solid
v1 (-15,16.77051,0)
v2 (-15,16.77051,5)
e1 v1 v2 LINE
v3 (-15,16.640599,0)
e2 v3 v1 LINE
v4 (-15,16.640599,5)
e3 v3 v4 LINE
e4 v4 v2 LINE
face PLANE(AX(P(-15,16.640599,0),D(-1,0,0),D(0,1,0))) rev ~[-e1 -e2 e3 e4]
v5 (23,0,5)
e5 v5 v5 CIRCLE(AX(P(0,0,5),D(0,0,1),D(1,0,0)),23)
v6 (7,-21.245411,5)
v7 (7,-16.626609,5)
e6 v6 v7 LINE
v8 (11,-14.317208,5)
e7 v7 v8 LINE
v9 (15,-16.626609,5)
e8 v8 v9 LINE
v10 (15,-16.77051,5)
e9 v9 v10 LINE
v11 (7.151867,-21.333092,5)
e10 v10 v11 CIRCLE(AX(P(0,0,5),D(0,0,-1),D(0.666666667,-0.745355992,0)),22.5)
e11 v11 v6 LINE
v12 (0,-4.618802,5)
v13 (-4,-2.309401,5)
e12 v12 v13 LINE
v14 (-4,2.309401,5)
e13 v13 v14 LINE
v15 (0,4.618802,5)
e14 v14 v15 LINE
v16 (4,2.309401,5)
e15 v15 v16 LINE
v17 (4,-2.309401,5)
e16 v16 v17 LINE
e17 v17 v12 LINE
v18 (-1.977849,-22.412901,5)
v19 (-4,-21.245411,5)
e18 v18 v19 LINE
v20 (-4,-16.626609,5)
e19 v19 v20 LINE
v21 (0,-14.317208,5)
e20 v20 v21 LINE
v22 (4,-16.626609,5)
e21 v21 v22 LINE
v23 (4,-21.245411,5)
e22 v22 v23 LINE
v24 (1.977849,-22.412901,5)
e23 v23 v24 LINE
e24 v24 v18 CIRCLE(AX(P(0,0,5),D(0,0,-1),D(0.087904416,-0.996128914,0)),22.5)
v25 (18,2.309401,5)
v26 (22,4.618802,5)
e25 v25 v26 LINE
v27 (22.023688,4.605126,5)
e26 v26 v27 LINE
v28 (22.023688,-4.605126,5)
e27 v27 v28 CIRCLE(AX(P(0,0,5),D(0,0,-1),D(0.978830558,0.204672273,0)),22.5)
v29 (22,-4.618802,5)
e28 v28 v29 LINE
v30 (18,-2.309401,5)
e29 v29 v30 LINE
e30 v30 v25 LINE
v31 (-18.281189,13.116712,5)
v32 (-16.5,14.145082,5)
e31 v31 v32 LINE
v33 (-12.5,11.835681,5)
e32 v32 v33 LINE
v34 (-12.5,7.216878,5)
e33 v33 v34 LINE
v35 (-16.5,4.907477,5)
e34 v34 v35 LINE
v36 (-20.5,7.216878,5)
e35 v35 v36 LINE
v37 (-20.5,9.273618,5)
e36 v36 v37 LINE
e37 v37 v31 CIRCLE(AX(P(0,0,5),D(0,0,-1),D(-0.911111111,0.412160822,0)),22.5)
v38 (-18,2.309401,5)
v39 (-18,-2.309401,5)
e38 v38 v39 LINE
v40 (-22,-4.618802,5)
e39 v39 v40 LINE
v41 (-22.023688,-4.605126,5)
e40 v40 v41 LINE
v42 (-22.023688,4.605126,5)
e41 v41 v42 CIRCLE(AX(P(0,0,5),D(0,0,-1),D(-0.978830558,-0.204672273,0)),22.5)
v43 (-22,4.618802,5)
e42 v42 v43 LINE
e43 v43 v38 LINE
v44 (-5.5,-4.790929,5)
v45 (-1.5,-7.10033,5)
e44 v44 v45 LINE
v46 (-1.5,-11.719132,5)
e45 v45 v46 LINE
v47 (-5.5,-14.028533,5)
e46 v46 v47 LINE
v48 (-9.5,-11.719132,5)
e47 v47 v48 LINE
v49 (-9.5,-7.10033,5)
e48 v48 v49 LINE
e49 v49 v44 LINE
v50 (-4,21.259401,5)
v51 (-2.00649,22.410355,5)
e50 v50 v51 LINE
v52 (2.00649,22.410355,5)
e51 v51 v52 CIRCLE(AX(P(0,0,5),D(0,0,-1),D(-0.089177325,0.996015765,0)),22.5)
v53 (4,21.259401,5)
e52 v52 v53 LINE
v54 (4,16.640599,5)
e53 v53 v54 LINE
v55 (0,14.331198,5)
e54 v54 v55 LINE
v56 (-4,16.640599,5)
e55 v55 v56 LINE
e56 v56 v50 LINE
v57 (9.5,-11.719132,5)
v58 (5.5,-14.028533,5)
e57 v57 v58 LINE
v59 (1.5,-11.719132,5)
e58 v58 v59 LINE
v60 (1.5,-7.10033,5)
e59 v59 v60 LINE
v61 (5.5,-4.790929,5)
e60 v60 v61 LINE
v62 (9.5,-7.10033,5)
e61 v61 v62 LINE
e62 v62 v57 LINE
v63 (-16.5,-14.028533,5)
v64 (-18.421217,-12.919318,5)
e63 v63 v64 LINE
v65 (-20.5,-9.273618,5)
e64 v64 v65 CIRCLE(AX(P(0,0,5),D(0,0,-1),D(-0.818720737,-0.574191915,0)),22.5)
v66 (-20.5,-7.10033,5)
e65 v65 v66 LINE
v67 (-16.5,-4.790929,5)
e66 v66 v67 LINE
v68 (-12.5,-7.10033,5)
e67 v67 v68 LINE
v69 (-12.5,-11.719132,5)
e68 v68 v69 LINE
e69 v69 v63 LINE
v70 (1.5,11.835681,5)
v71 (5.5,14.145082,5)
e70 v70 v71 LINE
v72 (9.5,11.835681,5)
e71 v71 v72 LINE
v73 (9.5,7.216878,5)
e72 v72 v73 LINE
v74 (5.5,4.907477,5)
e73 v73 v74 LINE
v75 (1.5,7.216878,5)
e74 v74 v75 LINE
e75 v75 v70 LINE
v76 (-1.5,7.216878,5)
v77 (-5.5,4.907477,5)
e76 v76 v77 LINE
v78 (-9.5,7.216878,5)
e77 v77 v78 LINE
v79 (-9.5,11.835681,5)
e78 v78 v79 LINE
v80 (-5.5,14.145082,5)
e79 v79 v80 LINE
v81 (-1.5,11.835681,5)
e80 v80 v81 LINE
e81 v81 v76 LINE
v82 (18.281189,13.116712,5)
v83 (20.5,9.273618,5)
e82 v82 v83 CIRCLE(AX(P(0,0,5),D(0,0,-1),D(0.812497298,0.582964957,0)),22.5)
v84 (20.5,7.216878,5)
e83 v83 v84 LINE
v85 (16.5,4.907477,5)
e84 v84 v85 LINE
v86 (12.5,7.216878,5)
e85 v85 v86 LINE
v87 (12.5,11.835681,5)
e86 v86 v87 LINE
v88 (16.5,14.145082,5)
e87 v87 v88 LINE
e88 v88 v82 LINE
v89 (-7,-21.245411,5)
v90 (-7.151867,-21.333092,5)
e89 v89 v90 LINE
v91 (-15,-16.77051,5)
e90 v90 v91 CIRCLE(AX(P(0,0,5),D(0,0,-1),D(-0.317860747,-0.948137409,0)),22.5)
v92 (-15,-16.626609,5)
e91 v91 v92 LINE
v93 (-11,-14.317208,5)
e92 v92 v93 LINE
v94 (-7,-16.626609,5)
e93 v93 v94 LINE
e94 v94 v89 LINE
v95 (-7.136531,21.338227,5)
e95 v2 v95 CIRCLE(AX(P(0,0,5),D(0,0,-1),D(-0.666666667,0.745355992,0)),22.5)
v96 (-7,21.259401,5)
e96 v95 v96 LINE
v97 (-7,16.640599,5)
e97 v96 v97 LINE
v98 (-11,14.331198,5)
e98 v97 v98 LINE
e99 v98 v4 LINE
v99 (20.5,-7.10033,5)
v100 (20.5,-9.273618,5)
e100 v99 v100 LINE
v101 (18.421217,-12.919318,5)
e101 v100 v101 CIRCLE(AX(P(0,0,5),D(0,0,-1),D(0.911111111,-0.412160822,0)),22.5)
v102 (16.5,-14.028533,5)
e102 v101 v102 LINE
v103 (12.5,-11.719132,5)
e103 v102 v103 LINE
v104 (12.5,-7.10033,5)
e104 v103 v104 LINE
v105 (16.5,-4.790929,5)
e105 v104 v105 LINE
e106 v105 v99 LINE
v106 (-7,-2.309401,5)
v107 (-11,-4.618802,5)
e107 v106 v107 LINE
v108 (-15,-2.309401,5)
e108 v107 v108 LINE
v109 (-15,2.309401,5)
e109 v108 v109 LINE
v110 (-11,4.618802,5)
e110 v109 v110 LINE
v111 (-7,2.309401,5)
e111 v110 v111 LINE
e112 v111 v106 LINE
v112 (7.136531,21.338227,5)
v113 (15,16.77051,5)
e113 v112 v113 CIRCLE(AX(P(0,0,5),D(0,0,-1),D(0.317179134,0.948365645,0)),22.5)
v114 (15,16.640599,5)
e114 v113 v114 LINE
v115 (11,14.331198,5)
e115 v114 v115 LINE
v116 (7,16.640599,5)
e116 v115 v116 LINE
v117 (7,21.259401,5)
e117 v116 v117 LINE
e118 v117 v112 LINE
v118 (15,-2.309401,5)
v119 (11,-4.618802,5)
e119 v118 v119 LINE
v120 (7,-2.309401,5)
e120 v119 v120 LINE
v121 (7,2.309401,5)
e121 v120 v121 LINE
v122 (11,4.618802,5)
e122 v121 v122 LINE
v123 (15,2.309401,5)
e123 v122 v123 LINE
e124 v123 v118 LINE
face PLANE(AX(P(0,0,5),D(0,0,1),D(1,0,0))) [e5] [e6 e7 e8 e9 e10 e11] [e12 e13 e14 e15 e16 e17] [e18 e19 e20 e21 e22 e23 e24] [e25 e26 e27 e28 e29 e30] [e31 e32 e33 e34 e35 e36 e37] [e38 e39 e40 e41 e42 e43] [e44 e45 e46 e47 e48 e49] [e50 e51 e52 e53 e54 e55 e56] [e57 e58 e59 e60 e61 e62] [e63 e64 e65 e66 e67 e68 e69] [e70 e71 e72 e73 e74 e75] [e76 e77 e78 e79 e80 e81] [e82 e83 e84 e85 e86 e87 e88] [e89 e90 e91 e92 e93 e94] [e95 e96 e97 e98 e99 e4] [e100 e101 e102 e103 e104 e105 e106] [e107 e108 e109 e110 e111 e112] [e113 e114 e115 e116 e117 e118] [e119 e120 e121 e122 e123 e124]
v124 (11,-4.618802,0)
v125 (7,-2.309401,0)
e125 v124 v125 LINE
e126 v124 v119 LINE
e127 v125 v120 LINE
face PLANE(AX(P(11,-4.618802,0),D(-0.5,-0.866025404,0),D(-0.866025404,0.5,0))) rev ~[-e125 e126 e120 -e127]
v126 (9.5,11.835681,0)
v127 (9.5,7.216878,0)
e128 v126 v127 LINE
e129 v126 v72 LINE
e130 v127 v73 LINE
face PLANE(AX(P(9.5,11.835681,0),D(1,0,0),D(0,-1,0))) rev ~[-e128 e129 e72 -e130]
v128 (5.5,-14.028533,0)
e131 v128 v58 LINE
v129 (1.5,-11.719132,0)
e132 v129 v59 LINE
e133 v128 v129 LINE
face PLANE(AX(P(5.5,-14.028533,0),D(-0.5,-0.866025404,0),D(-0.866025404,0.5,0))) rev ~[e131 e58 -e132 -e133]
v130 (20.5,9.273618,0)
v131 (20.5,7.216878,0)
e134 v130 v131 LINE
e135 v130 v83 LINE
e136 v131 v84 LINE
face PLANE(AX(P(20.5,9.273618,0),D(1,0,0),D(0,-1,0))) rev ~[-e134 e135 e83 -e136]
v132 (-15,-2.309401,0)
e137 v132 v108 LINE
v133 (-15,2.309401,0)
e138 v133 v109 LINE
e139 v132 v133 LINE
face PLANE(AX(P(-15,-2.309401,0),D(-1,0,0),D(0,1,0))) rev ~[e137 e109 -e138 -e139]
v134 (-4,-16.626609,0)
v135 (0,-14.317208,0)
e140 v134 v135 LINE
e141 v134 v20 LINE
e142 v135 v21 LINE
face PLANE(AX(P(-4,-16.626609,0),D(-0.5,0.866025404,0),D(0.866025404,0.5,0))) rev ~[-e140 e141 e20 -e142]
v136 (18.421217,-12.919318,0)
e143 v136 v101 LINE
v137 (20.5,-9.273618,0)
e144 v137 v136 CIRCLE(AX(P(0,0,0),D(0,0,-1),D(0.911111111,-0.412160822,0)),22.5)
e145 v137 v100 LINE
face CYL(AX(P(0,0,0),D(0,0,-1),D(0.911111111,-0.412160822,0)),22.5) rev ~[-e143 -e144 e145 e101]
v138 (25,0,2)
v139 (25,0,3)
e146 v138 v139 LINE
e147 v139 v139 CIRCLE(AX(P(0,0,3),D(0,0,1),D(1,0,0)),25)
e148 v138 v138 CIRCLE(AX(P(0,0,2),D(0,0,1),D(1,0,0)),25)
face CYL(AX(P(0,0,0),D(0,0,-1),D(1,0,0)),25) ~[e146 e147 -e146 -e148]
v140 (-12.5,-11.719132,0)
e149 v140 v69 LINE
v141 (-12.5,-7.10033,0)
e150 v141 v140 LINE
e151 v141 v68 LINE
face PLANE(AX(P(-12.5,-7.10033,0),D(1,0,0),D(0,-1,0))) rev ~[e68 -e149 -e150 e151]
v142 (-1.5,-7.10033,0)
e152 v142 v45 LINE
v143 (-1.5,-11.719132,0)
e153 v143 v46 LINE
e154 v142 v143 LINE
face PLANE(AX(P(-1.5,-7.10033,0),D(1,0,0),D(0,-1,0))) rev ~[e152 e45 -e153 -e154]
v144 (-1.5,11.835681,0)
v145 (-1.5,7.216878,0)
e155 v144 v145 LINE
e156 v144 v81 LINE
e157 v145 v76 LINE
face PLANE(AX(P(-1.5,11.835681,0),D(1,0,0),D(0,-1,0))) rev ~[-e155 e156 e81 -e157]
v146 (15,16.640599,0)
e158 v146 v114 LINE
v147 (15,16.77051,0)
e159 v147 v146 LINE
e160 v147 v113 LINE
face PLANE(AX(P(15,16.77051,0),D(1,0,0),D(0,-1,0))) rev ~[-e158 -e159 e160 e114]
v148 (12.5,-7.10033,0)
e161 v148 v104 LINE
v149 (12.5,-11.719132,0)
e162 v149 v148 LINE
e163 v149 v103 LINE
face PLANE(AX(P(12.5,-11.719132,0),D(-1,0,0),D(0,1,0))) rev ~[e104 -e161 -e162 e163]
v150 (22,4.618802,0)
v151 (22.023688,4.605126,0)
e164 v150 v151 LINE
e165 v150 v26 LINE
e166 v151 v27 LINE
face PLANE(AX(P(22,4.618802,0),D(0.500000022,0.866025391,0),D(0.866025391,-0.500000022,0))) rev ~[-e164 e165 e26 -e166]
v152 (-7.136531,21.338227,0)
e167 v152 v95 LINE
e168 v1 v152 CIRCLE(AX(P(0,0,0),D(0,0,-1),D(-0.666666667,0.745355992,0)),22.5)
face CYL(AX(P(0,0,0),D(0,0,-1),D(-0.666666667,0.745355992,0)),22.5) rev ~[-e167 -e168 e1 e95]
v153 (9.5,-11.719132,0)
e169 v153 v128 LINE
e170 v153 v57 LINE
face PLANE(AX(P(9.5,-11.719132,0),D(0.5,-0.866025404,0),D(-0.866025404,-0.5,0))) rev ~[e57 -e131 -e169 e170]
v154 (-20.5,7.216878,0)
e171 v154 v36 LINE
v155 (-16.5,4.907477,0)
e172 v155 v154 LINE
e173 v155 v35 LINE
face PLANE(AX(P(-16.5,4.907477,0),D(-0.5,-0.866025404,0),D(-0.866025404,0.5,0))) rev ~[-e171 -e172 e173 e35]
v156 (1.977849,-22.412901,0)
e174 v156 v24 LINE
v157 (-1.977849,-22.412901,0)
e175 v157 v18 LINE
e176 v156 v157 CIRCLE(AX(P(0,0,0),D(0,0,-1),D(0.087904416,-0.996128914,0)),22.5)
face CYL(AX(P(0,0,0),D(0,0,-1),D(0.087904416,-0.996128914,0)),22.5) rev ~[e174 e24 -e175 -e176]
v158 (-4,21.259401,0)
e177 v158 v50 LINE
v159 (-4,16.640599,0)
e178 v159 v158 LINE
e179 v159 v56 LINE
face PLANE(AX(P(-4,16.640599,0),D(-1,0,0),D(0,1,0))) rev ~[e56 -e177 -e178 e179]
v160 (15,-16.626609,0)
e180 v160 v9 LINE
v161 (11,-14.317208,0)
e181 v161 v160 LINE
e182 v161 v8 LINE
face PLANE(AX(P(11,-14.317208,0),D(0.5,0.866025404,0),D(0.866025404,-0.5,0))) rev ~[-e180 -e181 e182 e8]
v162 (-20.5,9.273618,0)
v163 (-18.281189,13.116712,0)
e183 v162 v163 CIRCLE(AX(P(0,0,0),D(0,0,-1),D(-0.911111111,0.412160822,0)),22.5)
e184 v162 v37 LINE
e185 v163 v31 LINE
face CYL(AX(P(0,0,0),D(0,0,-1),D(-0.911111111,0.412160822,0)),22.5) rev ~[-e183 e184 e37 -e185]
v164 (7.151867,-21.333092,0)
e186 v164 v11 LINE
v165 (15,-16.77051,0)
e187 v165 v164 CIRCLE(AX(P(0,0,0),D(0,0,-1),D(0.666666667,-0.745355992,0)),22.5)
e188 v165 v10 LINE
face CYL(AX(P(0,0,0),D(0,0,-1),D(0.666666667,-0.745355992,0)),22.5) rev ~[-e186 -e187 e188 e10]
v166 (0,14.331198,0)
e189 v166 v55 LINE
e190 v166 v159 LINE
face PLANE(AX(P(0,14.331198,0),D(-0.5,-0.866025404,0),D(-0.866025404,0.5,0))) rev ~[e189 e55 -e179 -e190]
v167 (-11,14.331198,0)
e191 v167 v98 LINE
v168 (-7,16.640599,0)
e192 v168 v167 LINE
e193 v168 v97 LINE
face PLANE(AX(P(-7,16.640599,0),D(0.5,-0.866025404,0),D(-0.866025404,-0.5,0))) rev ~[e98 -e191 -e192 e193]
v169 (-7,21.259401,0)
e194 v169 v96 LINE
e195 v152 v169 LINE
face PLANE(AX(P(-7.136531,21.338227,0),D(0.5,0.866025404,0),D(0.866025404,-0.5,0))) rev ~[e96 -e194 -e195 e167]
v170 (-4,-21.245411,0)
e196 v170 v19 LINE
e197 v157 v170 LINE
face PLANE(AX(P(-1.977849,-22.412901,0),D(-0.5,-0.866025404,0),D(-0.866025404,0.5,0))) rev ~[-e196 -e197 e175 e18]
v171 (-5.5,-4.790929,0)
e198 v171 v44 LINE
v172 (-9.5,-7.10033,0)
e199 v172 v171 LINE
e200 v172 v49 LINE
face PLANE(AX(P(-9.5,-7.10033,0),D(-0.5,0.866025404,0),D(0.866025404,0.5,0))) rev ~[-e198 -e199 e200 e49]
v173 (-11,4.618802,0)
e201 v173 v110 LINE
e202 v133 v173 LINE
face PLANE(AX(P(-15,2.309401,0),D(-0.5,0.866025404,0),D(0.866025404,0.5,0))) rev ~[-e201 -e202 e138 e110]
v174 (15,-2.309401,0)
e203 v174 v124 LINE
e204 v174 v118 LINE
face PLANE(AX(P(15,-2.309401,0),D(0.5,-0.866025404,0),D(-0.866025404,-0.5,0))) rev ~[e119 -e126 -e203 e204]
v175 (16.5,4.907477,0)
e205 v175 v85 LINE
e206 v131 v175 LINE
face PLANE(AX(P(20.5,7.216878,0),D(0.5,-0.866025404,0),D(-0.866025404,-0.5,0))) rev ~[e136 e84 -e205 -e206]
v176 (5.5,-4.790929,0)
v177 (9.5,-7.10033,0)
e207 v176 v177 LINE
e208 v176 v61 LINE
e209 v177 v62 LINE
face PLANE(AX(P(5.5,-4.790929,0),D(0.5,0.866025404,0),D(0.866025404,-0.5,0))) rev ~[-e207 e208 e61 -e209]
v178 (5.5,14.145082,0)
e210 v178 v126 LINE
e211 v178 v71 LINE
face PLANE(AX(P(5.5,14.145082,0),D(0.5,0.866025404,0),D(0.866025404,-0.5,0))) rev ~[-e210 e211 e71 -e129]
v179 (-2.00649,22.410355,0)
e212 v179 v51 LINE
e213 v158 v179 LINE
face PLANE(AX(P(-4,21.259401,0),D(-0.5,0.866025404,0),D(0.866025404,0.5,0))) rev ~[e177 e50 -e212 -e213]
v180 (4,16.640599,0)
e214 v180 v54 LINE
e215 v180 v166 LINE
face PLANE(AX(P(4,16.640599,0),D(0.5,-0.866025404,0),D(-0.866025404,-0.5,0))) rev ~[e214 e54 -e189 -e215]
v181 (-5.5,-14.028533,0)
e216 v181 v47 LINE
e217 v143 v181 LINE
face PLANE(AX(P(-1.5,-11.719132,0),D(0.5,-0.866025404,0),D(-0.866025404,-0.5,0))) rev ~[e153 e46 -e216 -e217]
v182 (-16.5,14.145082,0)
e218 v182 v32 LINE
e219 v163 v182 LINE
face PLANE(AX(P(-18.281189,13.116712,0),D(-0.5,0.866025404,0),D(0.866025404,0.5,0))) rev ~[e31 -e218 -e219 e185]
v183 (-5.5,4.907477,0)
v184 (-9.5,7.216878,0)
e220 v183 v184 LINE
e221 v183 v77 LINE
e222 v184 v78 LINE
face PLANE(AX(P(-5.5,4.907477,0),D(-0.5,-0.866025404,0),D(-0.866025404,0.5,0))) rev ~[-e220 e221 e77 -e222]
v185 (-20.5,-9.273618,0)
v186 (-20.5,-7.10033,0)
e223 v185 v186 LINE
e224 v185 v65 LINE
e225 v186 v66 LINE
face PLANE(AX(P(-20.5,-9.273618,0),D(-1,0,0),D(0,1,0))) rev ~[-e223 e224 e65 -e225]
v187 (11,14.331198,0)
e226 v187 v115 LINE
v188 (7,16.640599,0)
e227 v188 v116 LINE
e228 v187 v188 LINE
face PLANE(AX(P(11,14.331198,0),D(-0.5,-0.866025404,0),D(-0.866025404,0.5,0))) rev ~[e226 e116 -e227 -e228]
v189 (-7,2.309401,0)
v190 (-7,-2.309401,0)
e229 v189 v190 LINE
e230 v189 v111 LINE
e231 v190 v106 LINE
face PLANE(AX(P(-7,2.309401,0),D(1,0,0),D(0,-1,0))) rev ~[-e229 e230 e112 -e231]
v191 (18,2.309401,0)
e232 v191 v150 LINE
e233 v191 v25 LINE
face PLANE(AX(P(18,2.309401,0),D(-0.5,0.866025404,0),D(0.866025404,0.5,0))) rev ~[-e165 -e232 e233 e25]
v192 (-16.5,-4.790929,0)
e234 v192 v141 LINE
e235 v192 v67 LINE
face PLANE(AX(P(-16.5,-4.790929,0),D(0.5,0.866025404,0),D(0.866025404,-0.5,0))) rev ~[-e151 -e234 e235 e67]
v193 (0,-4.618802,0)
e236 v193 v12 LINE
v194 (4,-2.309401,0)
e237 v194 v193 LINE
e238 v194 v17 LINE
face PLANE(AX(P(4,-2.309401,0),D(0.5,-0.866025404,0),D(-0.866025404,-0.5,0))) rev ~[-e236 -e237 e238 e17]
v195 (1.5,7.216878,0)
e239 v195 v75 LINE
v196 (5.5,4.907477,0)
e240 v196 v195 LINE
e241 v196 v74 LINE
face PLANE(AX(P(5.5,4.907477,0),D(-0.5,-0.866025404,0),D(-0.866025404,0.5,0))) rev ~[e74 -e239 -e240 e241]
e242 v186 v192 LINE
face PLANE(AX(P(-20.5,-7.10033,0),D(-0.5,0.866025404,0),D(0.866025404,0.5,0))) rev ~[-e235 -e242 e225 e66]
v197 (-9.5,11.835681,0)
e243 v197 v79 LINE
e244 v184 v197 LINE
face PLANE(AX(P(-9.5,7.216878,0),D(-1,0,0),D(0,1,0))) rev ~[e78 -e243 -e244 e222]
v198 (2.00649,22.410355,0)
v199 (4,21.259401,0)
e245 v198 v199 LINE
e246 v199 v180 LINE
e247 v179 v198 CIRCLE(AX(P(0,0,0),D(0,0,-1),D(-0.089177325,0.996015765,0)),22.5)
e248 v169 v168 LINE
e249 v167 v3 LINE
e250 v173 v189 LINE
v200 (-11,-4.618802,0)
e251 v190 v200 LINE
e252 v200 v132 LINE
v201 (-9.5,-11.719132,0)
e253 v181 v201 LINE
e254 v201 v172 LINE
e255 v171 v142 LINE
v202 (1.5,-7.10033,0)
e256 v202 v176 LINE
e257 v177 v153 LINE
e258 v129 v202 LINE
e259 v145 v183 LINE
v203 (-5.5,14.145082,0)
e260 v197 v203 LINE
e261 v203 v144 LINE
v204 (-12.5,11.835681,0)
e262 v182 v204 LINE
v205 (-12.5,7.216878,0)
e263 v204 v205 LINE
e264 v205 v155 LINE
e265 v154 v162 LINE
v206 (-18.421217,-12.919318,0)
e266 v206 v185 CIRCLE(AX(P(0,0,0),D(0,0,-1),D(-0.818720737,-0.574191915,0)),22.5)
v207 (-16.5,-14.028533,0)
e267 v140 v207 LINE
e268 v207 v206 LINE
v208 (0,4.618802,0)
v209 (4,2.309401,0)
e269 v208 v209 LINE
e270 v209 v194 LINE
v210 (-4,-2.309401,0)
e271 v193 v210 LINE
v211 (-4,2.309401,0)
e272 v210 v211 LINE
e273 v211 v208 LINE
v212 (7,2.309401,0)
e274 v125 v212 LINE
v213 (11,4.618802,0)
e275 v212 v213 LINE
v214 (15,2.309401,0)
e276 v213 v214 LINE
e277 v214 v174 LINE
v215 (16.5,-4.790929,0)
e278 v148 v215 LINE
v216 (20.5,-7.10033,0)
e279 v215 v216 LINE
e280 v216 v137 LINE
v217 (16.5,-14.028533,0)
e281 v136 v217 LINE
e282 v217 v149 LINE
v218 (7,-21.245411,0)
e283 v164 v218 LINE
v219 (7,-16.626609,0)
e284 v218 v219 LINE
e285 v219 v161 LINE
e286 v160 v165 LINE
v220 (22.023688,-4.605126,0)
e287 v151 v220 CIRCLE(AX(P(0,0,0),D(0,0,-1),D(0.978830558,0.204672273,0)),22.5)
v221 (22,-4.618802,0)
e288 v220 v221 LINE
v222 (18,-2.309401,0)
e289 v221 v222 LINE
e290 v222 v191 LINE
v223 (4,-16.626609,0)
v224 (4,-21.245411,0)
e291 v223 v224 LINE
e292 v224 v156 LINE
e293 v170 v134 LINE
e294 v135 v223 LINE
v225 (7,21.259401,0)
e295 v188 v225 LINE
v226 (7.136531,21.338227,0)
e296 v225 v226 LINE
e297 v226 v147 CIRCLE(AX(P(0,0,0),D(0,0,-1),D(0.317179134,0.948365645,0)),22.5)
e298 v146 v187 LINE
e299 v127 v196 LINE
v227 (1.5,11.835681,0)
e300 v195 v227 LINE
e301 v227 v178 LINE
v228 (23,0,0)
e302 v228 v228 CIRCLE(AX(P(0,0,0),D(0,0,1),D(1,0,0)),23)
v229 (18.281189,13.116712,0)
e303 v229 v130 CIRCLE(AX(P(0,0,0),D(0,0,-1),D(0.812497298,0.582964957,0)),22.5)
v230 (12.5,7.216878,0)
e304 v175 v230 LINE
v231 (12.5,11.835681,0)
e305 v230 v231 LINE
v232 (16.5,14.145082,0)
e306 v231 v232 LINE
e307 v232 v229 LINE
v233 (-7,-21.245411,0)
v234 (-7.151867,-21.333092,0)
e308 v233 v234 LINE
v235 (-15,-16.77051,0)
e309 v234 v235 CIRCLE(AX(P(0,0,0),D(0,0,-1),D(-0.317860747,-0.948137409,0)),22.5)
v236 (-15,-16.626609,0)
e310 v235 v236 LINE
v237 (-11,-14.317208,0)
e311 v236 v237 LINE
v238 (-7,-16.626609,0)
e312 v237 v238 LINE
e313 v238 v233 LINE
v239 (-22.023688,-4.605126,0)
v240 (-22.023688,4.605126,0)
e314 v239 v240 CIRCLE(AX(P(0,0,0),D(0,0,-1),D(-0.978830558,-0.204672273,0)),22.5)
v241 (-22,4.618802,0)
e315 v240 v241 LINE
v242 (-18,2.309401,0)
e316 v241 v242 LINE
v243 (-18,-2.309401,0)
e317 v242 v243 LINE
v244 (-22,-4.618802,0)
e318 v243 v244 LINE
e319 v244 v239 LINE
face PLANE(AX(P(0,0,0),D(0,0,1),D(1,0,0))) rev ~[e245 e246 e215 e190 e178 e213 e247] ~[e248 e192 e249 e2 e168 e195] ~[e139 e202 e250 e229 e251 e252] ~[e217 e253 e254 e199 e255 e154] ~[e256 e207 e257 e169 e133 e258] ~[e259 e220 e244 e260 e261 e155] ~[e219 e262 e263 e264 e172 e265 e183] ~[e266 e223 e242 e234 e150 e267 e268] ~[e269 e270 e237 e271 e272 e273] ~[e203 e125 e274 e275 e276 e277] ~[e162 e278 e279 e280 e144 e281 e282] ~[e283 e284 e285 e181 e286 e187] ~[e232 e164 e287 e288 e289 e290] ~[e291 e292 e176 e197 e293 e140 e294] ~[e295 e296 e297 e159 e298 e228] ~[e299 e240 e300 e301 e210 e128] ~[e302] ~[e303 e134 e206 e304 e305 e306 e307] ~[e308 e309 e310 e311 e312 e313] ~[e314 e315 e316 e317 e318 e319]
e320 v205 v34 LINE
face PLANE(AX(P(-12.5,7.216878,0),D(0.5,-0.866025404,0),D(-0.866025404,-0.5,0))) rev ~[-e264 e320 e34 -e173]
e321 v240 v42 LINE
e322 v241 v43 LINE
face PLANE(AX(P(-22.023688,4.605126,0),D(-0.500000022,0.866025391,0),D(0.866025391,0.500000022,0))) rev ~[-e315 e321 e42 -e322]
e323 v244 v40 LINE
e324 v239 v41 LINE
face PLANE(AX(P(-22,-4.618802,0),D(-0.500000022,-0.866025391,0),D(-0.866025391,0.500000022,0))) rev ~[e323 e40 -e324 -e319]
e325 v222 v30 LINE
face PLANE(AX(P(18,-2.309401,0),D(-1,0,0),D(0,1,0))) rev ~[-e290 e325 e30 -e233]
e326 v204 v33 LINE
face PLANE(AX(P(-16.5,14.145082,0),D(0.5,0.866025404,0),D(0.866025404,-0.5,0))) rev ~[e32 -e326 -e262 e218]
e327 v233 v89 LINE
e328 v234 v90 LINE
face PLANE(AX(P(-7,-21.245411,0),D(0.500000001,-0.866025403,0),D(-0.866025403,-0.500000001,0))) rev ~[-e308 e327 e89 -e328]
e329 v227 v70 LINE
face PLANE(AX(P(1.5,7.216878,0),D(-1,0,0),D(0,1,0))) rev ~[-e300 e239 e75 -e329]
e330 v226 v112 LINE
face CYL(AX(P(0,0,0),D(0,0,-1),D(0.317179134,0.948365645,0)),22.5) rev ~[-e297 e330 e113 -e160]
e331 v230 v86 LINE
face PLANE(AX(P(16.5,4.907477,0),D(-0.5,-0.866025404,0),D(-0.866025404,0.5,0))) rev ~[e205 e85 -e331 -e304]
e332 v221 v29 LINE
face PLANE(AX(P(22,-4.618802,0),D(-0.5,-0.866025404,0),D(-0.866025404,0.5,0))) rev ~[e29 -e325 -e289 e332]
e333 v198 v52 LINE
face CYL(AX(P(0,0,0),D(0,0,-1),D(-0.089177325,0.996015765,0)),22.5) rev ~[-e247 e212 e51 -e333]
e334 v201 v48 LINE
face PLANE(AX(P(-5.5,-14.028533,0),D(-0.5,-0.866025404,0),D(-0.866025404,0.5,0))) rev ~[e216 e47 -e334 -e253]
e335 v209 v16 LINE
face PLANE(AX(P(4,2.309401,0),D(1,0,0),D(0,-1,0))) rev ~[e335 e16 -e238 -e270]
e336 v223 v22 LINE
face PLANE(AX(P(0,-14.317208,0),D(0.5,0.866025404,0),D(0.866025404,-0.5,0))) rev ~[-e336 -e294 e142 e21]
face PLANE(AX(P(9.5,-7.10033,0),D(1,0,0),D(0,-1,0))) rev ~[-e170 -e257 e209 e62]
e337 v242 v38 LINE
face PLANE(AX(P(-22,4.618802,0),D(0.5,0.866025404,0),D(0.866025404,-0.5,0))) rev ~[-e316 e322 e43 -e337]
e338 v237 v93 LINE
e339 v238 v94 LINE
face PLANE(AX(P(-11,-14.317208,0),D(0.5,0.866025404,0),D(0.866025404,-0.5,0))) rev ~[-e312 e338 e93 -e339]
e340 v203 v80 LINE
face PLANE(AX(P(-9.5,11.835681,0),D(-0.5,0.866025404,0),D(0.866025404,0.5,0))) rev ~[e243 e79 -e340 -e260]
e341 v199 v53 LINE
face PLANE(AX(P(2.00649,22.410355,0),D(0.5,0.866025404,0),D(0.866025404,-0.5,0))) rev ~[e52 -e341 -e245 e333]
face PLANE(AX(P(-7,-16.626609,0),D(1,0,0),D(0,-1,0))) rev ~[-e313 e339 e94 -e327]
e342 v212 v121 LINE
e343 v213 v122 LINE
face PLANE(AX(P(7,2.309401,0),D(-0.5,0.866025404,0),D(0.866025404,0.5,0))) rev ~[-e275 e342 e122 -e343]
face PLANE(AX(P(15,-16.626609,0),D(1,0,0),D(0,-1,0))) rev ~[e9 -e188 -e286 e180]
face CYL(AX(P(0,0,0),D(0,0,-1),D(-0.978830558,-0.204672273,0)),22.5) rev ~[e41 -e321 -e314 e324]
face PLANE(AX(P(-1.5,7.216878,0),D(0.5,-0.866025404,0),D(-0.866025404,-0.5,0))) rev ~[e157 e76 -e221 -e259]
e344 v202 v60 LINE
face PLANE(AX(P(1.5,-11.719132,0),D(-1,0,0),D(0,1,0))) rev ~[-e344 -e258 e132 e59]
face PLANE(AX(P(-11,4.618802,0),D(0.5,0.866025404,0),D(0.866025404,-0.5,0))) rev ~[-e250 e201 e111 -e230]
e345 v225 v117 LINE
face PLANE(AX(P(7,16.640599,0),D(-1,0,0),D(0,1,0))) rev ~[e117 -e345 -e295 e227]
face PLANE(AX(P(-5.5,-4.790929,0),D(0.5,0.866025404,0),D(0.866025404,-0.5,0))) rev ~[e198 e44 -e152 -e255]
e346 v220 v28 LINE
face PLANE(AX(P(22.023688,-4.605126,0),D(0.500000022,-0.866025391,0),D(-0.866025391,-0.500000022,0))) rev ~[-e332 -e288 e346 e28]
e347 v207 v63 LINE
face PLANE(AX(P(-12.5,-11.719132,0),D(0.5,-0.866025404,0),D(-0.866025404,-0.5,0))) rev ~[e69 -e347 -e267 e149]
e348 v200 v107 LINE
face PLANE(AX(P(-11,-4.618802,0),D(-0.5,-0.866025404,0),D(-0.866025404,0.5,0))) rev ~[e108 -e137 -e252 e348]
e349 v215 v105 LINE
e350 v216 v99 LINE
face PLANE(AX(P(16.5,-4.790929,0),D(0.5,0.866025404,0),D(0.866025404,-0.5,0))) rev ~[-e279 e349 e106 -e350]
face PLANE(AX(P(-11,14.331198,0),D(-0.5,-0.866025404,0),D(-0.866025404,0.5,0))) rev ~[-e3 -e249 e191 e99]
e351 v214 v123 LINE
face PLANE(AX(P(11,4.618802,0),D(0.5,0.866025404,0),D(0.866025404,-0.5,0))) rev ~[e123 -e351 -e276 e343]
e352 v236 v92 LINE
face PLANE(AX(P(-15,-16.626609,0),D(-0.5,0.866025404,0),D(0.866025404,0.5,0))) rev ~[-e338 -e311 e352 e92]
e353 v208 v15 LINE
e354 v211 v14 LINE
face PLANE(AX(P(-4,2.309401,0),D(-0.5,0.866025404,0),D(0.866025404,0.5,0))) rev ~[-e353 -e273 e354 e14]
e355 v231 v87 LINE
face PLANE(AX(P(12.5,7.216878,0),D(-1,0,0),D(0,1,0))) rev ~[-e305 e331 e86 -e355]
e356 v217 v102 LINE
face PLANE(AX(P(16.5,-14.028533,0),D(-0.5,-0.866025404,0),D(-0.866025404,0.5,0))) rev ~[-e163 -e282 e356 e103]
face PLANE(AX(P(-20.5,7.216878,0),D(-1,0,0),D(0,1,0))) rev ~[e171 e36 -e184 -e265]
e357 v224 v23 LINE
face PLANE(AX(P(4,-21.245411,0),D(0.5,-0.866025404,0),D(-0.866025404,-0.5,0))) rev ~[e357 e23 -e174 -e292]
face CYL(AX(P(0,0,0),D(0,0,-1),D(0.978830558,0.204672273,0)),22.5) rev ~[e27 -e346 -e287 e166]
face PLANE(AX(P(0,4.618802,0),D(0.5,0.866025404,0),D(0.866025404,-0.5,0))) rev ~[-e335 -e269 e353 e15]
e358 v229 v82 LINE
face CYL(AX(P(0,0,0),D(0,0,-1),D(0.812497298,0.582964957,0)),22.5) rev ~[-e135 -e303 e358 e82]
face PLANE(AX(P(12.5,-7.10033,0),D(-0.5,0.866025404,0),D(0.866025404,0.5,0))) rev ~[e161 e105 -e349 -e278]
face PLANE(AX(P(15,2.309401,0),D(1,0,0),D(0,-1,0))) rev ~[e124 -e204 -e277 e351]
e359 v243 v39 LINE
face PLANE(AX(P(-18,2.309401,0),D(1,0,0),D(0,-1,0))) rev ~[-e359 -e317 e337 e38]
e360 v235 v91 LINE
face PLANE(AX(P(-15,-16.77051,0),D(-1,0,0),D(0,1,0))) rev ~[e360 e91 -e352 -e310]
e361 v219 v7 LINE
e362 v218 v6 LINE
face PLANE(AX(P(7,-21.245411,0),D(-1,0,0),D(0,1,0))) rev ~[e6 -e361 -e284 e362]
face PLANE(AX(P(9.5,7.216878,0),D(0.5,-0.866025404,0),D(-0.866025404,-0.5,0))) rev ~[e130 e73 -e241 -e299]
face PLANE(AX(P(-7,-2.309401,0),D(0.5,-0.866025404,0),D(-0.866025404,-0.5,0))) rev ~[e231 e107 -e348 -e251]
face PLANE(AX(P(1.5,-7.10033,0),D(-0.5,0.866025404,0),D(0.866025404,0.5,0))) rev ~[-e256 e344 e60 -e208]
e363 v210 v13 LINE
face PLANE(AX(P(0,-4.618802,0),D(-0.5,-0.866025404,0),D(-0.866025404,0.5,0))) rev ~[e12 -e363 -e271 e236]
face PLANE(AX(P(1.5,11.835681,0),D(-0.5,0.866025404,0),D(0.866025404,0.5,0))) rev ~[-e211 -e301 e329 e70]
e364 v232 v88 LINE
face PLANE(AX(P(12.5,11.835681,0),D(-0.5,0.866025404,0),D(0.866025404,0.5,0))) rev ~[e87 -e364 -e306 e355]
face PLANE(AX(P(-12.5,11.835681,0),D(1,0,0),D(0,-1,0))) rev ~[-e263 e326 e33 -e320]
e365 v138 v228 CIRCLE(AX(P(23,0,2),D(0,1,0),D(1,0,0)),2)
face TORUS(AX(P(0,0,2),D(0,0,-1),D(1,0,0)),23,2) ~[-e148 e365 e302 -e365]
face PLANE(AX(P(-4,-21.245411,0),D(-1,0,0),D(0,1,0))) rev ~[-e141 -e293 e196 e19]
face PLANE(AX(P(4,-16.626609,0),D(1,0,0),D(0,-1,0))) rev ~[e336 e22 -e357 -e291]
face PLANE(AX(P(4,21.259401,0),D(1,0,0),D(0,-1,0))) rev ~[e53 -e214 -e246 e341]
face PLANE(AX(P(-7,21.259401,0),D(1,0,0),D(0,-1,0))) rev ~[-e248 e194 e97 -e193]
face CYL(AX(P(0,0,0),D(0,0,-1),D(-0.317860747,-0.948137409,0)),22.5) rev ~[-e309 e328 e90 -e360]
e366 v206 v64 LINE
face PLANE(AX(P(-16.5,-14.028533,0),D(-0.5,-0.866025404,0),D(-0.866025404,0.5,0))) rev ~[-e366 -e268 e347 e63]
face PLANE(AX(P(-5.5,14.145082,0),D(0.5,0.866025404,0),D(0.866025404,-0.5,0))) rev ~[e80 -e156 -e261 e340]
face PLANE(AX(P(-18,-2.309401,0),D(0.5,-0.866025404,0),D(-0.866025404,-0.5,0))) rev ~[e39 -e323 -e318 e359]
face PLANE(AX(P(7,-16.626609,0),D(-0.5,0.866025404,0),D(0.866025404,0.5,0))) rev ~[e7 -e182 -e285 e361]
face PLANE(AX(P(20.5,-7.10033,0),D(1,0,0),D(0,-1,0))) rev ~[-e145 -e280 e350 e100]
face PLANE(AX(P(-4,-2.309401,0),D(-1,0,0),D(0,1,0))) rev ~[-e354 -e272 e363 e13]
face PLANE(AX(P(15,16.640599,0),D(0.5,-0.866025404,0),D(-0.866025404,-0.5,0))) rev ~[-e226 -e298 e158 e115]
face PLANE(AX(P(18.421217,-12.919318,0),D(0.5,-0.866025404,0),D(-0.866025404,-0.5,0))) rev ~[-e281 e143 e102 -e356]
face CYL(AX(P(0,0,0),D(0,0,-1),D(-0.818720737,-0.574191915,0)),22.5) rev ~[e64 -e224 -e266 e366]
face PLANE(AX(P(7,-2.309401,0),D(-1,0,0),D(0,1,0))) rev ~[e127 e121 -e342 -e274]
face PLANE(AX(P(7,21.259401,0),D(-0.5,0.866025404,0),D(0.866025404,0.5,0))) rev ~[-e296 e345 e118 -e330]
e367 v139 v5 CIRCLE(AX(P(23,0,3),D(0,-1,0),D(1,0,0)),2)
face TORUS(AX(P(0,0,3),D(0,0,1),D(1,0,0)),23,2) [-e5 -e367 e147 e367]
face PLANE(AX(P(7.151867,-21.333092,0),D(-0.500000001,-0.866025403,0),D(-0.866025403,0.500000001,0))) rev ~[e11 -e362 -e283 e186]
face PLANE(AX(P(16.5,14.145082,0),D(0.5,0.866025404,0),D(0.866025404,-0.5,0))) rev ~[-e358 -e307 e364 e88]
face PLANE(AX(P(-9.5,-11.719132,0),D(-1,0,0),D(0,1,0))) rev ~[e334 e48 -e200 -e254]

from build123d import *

# Parameters (mm, degrees)
SKETCH1_R           = 25
BOSS_EXTRUDE3_DEPTH = 5
FILLET3_R           = 2


with BuildPart() as part:
    # Sketch1 → Boss-Extrude3 (new body)
    with BuildSketch(Plane.XY):
        Circle(SKETCH1_R)
        with BuildLine():
            Line((-16.5, -14.028532992), (-18.42121658, -12.919318082))
            ThreePointArc((-18.42121658, -12.919318082), (-19.545793828, -11.145041212), (-20.5, -9.273618495))
            Line((-20.5, -9.273618495), (-20.5, -7.100329762))
            Line((-20.5, -7.100329762), (-16.5, -4.790928685))
            Line((-16.5, -4.790928685), (-12.5, -7.100329762))
            Line((-12.5, -7.100329762), (-12.5, -11.719131915))
            Line((-12.5, -11.719131915), (-16.5, -14.028532992))
        make_face(mode=Mode.SUBTRACT)
        with BuildLine():
            Line((-15, -16.770509831), (-15, -16.626609203))
            Line((-15, -16.626609203), (-11, -14.317208127))
            Line((-11, -14.317208127), (-7, -16.626609203))
            Line((-7, -16.626609203), (-7, -21.245411357))
            Line((-7, -21.245411357), (-7.1518668, -21.333091695))
            ThreePointArc((-7.1518668, -21.333091695), (-11.308429997, -19.451720001), (-15, -16.770509831))
        make_face(mode=Mode.SUBTRACT)
        with BuildLine():
            Line((-22, -4.618802154), (-22.023687548, -4.605126141))
            ThreePointArc((-22.023687548, -4.605126141), (-22.5, 0), (-22.023687548, 4.605126141))
            Line((-22.023687548, 4.605126141), (-22, 4.618802154))
            Line((-22, 4.618802154), (-18, 2.309401077))
            Line((-18, 2.309401077), (-18, -2.309401077))
            Line((-18, -2.309401077), (-22, -4.618802154))
        make_face(mode=Mode.SUBTRACT)
        Polygon((-1.5, -11.719131915), (-5.5, -14.028532992), (-9.5, -11.719131915), (-9.5, -7.100329762), (-5.5, -4.790928685), (-1.5, -7.100329762), align=None, mode=Mode.SUBTRACT)
        Polygon((-7, -2.309401077), (-11, -4.618802154), (-15, -2.309401077), (-15, 2.309401077), (-11, 4.618802154), (-7, 2.309401077), align=None, mode=Mode.SUBTRACT)
        with BuildLine():
            Line((4, -21.245411357), (1.977849369, -22.412900568))
            ThreePointArc((1.977849369, -22.412900568), (0, -22.5), (-1.977849369, -22.412900568))
            Line((-1.977849369, -22.412900568), (-4, -21.245411357))
            Line((-4, -21.245411357), (-4, -16.626609203))
            Line((-4, -16.626609203), (0, -14.317208127))
            Line((0, -14.317208127), (4, -16.626609203))
            Line((4, -16.626609203), (4, -21.245411357))
        make_face(mode=Mode.SUBTRACT)
        with BuildLine():
            Line((7.1518668, -21.333091695), (7, -21.245411357))
            Line((7, -21.245411357), (7, -16.626609203))
            Line((7, -16.626609203), (11, -14.317208127))
            Line((11, -14.317208127), (15, -16.626609203))
            Line((15, -16.626609203), (15, -16.770509831))
            ThreePointArc((15, -16.770509831), (11.308429997, -19.451720001), (7.1518668, -21.333091695))
        make_face(mode=Mode.SUBTRACT)
        Polygon((9.5, -11.719131915), (5.5, -14.028532992), (1.5, -11.719131915), (1.5, -7.100329762), (5.5, -4.790928685), (9.5, -7.100329762), align=None, mode=Mode.SUBTRACT)
        with BuildLine():
            Line((20.5, -7.100329762), (20.5, -9.273618496))
            ThreePointArc((20.5, -9.273618496), (19.545793828, -11.145041212), (18.42121658, -12.919318082))
            Line((18.42121658, -12.919318082), (16.5, -14.028532992))
            Line((16.5, -14.028532992), (12.5, -11.719131915))
            Line((12.5, -11.719131915), (12.5, -7.100329762))
            Line((12.5, -7.100329762), (16.5, -4.790928685))
            Line((16.5, -4.790928685), (20.5, -7.100329762))
        make_face(mode=Mode.SUBTRACT)
        with BuildLine():
            Line((-20.5, 7.216878365), (-20.5, 9.273618495))
            ThreePointArc((-20.5, 9.273618495), (-19.485571585, 11.25), (-18.281189202, 13.11671153))
            Line((-18.281189202, 13.11671153), (-16.5, 14.145081595))
            Line((-16.5, 14.145081595), (-12.5, 11.835680518))
            Line((-12.5, 11.835680518), (-12.5, 7.216878365))
            Line((-12.5, 7.216878365), (-16.5, 4.907477288))
            Line((-16.5, 4.907477288), (-20.5, 7.216878365))
        make_face(mode=Mode.SUBTRACT)
        Polygon((4, -2.309401077), (0, -4.618802154), (-4, -2.309401077), (-4, 2.309401077), (0, 4.618802154), (4, 2.309401077), align=None, mode=Mode.SUBTRACT)
        Polygon((-1.5, 7.216878365), (-5.5, 4.907477288), (-9.5, 7.216878365), (-9.5, 11.835680518), (-5.5, 14.145081595), (-1.5, 11.835680518), align=None, mode=Mode.SUBTRACT)
        with BuildLine():
            ThreePointArc((-15, 16.770509831), (-11.301438227, 19.455783048), (-7.136530526, 21.338227013))
            Line((-7.136530526, 21.338227013), (-7, 21.259401077))
            Line((-7, 21.259401077), (-7, 16.640598923))
            Line((-7, 16.640598923), (-11, 14.331197846))
            Line((-11, 14.331197846), (-15, 16.640598923))
            Line((-15, 16.640598923), (-15, 16.770509831))
        make_face(mode=Mode.SUBTRACT)
        with BuildLine():
            Line((-4, 21.259401077), (-2.006489815, 22.410354719))
            ThreePointArc((-2.006489815, 22.410354719), (0, 22.5), (2.006489815, 22.410354719))
            Line((2.006489815, 22.410354719), (4, 21.259401077))
            Line((4, 21.259401077), (4, 16.640598923))
            Line((4, 16.640598923), (0, 14.331197846))
            Line((0, 14.331197846), (-4, 16.640598923))
            Line((-4, 16.640598923), (-4, 21.259401077))
        make_face(mode=Mode.SUBTRACT)
        Polygon((15, -2.309401077), (11, -4.618802154), (7, -2.309401077), (7, 2.309401077), (11, 4.618802154), (15, 2.309401077), align=None, mode=Mode.SUBTRACT)
        Polygon((9.5, 7.216878365), (5.5, 4.907477288), (1.5, 7.216878365), (1.5, 11.835680518), (5.5, 14.145081595), (9.5, 11.835680518), align=None, mode=Mode.SUBTRACT)
        with BuildLine():
            Line((22.023687548, -4.605126141), (22, -4.618802154))
            Line((22, -4.618802154), (18, -2.309401077))
            Line((18, -2.309401077), (18, 2.309401077))
            Line((18, 2.309401077), (22, 4.618802154))
            Line((22, 4.618802154), (22.023687548, 4.605126141))
            ThreePointArc((22.023687548, 4.605126141), (22.5, 0), (22.023687548, -4.605126141))
        make_face(mode=Mode.SUBTRACT)
        with BuildLine():
            Line((20.5, 7.216878365), (16.5, 4.907477288))
            Line((16.5, 4.907477288), (12.5, 7.216878365))
            Line((12.5, 7.216878365), (12.5, 11.835680518))
            Line((12.5, 11.835680518), (16.5, 14.145081595))
            Line((16.5, 14.145081595), (18.281189202, 13.11671153))
            ThreePointArc((18.281189202, 13.11671153), (19.485571585, 11.25), (20.5, 9.273618496))
            Line((20.5, 9.273618496), (20.5, 7.216878365))
        make_face(mode=Mode.SUBTRACT)
        with BuildLine():
            ThreePointArc((7.136530526, 21.338227013), (11.301438227, 19.455783048), (15, 16.770509831))
            Line((15, 16.770509831), (15, 16.640598923))
            Line((15, 16.640598923), (11, 14.331197846))
            Line((11, 14.331197846), (7, 16.640598923))
            Line((7, 16.640598923), (7, 21.259401077))
            Line((7, 21.259401077), (7.136530526, 21.338227013))
        make_face(mode=Mode.SUBTRACT)
    extrude(amount=BOSS_EXTRUDE3_DEPTH)

    # Fillet3
    fillet3_edges = [part.edges().sort_by_distance(p)[0] for p in [
        (-25, 0, 0),
        (-25, 0, 5),
    ]]
    fillet(fillet3_edges, radius=FILLET3_R)


solid = part.part
